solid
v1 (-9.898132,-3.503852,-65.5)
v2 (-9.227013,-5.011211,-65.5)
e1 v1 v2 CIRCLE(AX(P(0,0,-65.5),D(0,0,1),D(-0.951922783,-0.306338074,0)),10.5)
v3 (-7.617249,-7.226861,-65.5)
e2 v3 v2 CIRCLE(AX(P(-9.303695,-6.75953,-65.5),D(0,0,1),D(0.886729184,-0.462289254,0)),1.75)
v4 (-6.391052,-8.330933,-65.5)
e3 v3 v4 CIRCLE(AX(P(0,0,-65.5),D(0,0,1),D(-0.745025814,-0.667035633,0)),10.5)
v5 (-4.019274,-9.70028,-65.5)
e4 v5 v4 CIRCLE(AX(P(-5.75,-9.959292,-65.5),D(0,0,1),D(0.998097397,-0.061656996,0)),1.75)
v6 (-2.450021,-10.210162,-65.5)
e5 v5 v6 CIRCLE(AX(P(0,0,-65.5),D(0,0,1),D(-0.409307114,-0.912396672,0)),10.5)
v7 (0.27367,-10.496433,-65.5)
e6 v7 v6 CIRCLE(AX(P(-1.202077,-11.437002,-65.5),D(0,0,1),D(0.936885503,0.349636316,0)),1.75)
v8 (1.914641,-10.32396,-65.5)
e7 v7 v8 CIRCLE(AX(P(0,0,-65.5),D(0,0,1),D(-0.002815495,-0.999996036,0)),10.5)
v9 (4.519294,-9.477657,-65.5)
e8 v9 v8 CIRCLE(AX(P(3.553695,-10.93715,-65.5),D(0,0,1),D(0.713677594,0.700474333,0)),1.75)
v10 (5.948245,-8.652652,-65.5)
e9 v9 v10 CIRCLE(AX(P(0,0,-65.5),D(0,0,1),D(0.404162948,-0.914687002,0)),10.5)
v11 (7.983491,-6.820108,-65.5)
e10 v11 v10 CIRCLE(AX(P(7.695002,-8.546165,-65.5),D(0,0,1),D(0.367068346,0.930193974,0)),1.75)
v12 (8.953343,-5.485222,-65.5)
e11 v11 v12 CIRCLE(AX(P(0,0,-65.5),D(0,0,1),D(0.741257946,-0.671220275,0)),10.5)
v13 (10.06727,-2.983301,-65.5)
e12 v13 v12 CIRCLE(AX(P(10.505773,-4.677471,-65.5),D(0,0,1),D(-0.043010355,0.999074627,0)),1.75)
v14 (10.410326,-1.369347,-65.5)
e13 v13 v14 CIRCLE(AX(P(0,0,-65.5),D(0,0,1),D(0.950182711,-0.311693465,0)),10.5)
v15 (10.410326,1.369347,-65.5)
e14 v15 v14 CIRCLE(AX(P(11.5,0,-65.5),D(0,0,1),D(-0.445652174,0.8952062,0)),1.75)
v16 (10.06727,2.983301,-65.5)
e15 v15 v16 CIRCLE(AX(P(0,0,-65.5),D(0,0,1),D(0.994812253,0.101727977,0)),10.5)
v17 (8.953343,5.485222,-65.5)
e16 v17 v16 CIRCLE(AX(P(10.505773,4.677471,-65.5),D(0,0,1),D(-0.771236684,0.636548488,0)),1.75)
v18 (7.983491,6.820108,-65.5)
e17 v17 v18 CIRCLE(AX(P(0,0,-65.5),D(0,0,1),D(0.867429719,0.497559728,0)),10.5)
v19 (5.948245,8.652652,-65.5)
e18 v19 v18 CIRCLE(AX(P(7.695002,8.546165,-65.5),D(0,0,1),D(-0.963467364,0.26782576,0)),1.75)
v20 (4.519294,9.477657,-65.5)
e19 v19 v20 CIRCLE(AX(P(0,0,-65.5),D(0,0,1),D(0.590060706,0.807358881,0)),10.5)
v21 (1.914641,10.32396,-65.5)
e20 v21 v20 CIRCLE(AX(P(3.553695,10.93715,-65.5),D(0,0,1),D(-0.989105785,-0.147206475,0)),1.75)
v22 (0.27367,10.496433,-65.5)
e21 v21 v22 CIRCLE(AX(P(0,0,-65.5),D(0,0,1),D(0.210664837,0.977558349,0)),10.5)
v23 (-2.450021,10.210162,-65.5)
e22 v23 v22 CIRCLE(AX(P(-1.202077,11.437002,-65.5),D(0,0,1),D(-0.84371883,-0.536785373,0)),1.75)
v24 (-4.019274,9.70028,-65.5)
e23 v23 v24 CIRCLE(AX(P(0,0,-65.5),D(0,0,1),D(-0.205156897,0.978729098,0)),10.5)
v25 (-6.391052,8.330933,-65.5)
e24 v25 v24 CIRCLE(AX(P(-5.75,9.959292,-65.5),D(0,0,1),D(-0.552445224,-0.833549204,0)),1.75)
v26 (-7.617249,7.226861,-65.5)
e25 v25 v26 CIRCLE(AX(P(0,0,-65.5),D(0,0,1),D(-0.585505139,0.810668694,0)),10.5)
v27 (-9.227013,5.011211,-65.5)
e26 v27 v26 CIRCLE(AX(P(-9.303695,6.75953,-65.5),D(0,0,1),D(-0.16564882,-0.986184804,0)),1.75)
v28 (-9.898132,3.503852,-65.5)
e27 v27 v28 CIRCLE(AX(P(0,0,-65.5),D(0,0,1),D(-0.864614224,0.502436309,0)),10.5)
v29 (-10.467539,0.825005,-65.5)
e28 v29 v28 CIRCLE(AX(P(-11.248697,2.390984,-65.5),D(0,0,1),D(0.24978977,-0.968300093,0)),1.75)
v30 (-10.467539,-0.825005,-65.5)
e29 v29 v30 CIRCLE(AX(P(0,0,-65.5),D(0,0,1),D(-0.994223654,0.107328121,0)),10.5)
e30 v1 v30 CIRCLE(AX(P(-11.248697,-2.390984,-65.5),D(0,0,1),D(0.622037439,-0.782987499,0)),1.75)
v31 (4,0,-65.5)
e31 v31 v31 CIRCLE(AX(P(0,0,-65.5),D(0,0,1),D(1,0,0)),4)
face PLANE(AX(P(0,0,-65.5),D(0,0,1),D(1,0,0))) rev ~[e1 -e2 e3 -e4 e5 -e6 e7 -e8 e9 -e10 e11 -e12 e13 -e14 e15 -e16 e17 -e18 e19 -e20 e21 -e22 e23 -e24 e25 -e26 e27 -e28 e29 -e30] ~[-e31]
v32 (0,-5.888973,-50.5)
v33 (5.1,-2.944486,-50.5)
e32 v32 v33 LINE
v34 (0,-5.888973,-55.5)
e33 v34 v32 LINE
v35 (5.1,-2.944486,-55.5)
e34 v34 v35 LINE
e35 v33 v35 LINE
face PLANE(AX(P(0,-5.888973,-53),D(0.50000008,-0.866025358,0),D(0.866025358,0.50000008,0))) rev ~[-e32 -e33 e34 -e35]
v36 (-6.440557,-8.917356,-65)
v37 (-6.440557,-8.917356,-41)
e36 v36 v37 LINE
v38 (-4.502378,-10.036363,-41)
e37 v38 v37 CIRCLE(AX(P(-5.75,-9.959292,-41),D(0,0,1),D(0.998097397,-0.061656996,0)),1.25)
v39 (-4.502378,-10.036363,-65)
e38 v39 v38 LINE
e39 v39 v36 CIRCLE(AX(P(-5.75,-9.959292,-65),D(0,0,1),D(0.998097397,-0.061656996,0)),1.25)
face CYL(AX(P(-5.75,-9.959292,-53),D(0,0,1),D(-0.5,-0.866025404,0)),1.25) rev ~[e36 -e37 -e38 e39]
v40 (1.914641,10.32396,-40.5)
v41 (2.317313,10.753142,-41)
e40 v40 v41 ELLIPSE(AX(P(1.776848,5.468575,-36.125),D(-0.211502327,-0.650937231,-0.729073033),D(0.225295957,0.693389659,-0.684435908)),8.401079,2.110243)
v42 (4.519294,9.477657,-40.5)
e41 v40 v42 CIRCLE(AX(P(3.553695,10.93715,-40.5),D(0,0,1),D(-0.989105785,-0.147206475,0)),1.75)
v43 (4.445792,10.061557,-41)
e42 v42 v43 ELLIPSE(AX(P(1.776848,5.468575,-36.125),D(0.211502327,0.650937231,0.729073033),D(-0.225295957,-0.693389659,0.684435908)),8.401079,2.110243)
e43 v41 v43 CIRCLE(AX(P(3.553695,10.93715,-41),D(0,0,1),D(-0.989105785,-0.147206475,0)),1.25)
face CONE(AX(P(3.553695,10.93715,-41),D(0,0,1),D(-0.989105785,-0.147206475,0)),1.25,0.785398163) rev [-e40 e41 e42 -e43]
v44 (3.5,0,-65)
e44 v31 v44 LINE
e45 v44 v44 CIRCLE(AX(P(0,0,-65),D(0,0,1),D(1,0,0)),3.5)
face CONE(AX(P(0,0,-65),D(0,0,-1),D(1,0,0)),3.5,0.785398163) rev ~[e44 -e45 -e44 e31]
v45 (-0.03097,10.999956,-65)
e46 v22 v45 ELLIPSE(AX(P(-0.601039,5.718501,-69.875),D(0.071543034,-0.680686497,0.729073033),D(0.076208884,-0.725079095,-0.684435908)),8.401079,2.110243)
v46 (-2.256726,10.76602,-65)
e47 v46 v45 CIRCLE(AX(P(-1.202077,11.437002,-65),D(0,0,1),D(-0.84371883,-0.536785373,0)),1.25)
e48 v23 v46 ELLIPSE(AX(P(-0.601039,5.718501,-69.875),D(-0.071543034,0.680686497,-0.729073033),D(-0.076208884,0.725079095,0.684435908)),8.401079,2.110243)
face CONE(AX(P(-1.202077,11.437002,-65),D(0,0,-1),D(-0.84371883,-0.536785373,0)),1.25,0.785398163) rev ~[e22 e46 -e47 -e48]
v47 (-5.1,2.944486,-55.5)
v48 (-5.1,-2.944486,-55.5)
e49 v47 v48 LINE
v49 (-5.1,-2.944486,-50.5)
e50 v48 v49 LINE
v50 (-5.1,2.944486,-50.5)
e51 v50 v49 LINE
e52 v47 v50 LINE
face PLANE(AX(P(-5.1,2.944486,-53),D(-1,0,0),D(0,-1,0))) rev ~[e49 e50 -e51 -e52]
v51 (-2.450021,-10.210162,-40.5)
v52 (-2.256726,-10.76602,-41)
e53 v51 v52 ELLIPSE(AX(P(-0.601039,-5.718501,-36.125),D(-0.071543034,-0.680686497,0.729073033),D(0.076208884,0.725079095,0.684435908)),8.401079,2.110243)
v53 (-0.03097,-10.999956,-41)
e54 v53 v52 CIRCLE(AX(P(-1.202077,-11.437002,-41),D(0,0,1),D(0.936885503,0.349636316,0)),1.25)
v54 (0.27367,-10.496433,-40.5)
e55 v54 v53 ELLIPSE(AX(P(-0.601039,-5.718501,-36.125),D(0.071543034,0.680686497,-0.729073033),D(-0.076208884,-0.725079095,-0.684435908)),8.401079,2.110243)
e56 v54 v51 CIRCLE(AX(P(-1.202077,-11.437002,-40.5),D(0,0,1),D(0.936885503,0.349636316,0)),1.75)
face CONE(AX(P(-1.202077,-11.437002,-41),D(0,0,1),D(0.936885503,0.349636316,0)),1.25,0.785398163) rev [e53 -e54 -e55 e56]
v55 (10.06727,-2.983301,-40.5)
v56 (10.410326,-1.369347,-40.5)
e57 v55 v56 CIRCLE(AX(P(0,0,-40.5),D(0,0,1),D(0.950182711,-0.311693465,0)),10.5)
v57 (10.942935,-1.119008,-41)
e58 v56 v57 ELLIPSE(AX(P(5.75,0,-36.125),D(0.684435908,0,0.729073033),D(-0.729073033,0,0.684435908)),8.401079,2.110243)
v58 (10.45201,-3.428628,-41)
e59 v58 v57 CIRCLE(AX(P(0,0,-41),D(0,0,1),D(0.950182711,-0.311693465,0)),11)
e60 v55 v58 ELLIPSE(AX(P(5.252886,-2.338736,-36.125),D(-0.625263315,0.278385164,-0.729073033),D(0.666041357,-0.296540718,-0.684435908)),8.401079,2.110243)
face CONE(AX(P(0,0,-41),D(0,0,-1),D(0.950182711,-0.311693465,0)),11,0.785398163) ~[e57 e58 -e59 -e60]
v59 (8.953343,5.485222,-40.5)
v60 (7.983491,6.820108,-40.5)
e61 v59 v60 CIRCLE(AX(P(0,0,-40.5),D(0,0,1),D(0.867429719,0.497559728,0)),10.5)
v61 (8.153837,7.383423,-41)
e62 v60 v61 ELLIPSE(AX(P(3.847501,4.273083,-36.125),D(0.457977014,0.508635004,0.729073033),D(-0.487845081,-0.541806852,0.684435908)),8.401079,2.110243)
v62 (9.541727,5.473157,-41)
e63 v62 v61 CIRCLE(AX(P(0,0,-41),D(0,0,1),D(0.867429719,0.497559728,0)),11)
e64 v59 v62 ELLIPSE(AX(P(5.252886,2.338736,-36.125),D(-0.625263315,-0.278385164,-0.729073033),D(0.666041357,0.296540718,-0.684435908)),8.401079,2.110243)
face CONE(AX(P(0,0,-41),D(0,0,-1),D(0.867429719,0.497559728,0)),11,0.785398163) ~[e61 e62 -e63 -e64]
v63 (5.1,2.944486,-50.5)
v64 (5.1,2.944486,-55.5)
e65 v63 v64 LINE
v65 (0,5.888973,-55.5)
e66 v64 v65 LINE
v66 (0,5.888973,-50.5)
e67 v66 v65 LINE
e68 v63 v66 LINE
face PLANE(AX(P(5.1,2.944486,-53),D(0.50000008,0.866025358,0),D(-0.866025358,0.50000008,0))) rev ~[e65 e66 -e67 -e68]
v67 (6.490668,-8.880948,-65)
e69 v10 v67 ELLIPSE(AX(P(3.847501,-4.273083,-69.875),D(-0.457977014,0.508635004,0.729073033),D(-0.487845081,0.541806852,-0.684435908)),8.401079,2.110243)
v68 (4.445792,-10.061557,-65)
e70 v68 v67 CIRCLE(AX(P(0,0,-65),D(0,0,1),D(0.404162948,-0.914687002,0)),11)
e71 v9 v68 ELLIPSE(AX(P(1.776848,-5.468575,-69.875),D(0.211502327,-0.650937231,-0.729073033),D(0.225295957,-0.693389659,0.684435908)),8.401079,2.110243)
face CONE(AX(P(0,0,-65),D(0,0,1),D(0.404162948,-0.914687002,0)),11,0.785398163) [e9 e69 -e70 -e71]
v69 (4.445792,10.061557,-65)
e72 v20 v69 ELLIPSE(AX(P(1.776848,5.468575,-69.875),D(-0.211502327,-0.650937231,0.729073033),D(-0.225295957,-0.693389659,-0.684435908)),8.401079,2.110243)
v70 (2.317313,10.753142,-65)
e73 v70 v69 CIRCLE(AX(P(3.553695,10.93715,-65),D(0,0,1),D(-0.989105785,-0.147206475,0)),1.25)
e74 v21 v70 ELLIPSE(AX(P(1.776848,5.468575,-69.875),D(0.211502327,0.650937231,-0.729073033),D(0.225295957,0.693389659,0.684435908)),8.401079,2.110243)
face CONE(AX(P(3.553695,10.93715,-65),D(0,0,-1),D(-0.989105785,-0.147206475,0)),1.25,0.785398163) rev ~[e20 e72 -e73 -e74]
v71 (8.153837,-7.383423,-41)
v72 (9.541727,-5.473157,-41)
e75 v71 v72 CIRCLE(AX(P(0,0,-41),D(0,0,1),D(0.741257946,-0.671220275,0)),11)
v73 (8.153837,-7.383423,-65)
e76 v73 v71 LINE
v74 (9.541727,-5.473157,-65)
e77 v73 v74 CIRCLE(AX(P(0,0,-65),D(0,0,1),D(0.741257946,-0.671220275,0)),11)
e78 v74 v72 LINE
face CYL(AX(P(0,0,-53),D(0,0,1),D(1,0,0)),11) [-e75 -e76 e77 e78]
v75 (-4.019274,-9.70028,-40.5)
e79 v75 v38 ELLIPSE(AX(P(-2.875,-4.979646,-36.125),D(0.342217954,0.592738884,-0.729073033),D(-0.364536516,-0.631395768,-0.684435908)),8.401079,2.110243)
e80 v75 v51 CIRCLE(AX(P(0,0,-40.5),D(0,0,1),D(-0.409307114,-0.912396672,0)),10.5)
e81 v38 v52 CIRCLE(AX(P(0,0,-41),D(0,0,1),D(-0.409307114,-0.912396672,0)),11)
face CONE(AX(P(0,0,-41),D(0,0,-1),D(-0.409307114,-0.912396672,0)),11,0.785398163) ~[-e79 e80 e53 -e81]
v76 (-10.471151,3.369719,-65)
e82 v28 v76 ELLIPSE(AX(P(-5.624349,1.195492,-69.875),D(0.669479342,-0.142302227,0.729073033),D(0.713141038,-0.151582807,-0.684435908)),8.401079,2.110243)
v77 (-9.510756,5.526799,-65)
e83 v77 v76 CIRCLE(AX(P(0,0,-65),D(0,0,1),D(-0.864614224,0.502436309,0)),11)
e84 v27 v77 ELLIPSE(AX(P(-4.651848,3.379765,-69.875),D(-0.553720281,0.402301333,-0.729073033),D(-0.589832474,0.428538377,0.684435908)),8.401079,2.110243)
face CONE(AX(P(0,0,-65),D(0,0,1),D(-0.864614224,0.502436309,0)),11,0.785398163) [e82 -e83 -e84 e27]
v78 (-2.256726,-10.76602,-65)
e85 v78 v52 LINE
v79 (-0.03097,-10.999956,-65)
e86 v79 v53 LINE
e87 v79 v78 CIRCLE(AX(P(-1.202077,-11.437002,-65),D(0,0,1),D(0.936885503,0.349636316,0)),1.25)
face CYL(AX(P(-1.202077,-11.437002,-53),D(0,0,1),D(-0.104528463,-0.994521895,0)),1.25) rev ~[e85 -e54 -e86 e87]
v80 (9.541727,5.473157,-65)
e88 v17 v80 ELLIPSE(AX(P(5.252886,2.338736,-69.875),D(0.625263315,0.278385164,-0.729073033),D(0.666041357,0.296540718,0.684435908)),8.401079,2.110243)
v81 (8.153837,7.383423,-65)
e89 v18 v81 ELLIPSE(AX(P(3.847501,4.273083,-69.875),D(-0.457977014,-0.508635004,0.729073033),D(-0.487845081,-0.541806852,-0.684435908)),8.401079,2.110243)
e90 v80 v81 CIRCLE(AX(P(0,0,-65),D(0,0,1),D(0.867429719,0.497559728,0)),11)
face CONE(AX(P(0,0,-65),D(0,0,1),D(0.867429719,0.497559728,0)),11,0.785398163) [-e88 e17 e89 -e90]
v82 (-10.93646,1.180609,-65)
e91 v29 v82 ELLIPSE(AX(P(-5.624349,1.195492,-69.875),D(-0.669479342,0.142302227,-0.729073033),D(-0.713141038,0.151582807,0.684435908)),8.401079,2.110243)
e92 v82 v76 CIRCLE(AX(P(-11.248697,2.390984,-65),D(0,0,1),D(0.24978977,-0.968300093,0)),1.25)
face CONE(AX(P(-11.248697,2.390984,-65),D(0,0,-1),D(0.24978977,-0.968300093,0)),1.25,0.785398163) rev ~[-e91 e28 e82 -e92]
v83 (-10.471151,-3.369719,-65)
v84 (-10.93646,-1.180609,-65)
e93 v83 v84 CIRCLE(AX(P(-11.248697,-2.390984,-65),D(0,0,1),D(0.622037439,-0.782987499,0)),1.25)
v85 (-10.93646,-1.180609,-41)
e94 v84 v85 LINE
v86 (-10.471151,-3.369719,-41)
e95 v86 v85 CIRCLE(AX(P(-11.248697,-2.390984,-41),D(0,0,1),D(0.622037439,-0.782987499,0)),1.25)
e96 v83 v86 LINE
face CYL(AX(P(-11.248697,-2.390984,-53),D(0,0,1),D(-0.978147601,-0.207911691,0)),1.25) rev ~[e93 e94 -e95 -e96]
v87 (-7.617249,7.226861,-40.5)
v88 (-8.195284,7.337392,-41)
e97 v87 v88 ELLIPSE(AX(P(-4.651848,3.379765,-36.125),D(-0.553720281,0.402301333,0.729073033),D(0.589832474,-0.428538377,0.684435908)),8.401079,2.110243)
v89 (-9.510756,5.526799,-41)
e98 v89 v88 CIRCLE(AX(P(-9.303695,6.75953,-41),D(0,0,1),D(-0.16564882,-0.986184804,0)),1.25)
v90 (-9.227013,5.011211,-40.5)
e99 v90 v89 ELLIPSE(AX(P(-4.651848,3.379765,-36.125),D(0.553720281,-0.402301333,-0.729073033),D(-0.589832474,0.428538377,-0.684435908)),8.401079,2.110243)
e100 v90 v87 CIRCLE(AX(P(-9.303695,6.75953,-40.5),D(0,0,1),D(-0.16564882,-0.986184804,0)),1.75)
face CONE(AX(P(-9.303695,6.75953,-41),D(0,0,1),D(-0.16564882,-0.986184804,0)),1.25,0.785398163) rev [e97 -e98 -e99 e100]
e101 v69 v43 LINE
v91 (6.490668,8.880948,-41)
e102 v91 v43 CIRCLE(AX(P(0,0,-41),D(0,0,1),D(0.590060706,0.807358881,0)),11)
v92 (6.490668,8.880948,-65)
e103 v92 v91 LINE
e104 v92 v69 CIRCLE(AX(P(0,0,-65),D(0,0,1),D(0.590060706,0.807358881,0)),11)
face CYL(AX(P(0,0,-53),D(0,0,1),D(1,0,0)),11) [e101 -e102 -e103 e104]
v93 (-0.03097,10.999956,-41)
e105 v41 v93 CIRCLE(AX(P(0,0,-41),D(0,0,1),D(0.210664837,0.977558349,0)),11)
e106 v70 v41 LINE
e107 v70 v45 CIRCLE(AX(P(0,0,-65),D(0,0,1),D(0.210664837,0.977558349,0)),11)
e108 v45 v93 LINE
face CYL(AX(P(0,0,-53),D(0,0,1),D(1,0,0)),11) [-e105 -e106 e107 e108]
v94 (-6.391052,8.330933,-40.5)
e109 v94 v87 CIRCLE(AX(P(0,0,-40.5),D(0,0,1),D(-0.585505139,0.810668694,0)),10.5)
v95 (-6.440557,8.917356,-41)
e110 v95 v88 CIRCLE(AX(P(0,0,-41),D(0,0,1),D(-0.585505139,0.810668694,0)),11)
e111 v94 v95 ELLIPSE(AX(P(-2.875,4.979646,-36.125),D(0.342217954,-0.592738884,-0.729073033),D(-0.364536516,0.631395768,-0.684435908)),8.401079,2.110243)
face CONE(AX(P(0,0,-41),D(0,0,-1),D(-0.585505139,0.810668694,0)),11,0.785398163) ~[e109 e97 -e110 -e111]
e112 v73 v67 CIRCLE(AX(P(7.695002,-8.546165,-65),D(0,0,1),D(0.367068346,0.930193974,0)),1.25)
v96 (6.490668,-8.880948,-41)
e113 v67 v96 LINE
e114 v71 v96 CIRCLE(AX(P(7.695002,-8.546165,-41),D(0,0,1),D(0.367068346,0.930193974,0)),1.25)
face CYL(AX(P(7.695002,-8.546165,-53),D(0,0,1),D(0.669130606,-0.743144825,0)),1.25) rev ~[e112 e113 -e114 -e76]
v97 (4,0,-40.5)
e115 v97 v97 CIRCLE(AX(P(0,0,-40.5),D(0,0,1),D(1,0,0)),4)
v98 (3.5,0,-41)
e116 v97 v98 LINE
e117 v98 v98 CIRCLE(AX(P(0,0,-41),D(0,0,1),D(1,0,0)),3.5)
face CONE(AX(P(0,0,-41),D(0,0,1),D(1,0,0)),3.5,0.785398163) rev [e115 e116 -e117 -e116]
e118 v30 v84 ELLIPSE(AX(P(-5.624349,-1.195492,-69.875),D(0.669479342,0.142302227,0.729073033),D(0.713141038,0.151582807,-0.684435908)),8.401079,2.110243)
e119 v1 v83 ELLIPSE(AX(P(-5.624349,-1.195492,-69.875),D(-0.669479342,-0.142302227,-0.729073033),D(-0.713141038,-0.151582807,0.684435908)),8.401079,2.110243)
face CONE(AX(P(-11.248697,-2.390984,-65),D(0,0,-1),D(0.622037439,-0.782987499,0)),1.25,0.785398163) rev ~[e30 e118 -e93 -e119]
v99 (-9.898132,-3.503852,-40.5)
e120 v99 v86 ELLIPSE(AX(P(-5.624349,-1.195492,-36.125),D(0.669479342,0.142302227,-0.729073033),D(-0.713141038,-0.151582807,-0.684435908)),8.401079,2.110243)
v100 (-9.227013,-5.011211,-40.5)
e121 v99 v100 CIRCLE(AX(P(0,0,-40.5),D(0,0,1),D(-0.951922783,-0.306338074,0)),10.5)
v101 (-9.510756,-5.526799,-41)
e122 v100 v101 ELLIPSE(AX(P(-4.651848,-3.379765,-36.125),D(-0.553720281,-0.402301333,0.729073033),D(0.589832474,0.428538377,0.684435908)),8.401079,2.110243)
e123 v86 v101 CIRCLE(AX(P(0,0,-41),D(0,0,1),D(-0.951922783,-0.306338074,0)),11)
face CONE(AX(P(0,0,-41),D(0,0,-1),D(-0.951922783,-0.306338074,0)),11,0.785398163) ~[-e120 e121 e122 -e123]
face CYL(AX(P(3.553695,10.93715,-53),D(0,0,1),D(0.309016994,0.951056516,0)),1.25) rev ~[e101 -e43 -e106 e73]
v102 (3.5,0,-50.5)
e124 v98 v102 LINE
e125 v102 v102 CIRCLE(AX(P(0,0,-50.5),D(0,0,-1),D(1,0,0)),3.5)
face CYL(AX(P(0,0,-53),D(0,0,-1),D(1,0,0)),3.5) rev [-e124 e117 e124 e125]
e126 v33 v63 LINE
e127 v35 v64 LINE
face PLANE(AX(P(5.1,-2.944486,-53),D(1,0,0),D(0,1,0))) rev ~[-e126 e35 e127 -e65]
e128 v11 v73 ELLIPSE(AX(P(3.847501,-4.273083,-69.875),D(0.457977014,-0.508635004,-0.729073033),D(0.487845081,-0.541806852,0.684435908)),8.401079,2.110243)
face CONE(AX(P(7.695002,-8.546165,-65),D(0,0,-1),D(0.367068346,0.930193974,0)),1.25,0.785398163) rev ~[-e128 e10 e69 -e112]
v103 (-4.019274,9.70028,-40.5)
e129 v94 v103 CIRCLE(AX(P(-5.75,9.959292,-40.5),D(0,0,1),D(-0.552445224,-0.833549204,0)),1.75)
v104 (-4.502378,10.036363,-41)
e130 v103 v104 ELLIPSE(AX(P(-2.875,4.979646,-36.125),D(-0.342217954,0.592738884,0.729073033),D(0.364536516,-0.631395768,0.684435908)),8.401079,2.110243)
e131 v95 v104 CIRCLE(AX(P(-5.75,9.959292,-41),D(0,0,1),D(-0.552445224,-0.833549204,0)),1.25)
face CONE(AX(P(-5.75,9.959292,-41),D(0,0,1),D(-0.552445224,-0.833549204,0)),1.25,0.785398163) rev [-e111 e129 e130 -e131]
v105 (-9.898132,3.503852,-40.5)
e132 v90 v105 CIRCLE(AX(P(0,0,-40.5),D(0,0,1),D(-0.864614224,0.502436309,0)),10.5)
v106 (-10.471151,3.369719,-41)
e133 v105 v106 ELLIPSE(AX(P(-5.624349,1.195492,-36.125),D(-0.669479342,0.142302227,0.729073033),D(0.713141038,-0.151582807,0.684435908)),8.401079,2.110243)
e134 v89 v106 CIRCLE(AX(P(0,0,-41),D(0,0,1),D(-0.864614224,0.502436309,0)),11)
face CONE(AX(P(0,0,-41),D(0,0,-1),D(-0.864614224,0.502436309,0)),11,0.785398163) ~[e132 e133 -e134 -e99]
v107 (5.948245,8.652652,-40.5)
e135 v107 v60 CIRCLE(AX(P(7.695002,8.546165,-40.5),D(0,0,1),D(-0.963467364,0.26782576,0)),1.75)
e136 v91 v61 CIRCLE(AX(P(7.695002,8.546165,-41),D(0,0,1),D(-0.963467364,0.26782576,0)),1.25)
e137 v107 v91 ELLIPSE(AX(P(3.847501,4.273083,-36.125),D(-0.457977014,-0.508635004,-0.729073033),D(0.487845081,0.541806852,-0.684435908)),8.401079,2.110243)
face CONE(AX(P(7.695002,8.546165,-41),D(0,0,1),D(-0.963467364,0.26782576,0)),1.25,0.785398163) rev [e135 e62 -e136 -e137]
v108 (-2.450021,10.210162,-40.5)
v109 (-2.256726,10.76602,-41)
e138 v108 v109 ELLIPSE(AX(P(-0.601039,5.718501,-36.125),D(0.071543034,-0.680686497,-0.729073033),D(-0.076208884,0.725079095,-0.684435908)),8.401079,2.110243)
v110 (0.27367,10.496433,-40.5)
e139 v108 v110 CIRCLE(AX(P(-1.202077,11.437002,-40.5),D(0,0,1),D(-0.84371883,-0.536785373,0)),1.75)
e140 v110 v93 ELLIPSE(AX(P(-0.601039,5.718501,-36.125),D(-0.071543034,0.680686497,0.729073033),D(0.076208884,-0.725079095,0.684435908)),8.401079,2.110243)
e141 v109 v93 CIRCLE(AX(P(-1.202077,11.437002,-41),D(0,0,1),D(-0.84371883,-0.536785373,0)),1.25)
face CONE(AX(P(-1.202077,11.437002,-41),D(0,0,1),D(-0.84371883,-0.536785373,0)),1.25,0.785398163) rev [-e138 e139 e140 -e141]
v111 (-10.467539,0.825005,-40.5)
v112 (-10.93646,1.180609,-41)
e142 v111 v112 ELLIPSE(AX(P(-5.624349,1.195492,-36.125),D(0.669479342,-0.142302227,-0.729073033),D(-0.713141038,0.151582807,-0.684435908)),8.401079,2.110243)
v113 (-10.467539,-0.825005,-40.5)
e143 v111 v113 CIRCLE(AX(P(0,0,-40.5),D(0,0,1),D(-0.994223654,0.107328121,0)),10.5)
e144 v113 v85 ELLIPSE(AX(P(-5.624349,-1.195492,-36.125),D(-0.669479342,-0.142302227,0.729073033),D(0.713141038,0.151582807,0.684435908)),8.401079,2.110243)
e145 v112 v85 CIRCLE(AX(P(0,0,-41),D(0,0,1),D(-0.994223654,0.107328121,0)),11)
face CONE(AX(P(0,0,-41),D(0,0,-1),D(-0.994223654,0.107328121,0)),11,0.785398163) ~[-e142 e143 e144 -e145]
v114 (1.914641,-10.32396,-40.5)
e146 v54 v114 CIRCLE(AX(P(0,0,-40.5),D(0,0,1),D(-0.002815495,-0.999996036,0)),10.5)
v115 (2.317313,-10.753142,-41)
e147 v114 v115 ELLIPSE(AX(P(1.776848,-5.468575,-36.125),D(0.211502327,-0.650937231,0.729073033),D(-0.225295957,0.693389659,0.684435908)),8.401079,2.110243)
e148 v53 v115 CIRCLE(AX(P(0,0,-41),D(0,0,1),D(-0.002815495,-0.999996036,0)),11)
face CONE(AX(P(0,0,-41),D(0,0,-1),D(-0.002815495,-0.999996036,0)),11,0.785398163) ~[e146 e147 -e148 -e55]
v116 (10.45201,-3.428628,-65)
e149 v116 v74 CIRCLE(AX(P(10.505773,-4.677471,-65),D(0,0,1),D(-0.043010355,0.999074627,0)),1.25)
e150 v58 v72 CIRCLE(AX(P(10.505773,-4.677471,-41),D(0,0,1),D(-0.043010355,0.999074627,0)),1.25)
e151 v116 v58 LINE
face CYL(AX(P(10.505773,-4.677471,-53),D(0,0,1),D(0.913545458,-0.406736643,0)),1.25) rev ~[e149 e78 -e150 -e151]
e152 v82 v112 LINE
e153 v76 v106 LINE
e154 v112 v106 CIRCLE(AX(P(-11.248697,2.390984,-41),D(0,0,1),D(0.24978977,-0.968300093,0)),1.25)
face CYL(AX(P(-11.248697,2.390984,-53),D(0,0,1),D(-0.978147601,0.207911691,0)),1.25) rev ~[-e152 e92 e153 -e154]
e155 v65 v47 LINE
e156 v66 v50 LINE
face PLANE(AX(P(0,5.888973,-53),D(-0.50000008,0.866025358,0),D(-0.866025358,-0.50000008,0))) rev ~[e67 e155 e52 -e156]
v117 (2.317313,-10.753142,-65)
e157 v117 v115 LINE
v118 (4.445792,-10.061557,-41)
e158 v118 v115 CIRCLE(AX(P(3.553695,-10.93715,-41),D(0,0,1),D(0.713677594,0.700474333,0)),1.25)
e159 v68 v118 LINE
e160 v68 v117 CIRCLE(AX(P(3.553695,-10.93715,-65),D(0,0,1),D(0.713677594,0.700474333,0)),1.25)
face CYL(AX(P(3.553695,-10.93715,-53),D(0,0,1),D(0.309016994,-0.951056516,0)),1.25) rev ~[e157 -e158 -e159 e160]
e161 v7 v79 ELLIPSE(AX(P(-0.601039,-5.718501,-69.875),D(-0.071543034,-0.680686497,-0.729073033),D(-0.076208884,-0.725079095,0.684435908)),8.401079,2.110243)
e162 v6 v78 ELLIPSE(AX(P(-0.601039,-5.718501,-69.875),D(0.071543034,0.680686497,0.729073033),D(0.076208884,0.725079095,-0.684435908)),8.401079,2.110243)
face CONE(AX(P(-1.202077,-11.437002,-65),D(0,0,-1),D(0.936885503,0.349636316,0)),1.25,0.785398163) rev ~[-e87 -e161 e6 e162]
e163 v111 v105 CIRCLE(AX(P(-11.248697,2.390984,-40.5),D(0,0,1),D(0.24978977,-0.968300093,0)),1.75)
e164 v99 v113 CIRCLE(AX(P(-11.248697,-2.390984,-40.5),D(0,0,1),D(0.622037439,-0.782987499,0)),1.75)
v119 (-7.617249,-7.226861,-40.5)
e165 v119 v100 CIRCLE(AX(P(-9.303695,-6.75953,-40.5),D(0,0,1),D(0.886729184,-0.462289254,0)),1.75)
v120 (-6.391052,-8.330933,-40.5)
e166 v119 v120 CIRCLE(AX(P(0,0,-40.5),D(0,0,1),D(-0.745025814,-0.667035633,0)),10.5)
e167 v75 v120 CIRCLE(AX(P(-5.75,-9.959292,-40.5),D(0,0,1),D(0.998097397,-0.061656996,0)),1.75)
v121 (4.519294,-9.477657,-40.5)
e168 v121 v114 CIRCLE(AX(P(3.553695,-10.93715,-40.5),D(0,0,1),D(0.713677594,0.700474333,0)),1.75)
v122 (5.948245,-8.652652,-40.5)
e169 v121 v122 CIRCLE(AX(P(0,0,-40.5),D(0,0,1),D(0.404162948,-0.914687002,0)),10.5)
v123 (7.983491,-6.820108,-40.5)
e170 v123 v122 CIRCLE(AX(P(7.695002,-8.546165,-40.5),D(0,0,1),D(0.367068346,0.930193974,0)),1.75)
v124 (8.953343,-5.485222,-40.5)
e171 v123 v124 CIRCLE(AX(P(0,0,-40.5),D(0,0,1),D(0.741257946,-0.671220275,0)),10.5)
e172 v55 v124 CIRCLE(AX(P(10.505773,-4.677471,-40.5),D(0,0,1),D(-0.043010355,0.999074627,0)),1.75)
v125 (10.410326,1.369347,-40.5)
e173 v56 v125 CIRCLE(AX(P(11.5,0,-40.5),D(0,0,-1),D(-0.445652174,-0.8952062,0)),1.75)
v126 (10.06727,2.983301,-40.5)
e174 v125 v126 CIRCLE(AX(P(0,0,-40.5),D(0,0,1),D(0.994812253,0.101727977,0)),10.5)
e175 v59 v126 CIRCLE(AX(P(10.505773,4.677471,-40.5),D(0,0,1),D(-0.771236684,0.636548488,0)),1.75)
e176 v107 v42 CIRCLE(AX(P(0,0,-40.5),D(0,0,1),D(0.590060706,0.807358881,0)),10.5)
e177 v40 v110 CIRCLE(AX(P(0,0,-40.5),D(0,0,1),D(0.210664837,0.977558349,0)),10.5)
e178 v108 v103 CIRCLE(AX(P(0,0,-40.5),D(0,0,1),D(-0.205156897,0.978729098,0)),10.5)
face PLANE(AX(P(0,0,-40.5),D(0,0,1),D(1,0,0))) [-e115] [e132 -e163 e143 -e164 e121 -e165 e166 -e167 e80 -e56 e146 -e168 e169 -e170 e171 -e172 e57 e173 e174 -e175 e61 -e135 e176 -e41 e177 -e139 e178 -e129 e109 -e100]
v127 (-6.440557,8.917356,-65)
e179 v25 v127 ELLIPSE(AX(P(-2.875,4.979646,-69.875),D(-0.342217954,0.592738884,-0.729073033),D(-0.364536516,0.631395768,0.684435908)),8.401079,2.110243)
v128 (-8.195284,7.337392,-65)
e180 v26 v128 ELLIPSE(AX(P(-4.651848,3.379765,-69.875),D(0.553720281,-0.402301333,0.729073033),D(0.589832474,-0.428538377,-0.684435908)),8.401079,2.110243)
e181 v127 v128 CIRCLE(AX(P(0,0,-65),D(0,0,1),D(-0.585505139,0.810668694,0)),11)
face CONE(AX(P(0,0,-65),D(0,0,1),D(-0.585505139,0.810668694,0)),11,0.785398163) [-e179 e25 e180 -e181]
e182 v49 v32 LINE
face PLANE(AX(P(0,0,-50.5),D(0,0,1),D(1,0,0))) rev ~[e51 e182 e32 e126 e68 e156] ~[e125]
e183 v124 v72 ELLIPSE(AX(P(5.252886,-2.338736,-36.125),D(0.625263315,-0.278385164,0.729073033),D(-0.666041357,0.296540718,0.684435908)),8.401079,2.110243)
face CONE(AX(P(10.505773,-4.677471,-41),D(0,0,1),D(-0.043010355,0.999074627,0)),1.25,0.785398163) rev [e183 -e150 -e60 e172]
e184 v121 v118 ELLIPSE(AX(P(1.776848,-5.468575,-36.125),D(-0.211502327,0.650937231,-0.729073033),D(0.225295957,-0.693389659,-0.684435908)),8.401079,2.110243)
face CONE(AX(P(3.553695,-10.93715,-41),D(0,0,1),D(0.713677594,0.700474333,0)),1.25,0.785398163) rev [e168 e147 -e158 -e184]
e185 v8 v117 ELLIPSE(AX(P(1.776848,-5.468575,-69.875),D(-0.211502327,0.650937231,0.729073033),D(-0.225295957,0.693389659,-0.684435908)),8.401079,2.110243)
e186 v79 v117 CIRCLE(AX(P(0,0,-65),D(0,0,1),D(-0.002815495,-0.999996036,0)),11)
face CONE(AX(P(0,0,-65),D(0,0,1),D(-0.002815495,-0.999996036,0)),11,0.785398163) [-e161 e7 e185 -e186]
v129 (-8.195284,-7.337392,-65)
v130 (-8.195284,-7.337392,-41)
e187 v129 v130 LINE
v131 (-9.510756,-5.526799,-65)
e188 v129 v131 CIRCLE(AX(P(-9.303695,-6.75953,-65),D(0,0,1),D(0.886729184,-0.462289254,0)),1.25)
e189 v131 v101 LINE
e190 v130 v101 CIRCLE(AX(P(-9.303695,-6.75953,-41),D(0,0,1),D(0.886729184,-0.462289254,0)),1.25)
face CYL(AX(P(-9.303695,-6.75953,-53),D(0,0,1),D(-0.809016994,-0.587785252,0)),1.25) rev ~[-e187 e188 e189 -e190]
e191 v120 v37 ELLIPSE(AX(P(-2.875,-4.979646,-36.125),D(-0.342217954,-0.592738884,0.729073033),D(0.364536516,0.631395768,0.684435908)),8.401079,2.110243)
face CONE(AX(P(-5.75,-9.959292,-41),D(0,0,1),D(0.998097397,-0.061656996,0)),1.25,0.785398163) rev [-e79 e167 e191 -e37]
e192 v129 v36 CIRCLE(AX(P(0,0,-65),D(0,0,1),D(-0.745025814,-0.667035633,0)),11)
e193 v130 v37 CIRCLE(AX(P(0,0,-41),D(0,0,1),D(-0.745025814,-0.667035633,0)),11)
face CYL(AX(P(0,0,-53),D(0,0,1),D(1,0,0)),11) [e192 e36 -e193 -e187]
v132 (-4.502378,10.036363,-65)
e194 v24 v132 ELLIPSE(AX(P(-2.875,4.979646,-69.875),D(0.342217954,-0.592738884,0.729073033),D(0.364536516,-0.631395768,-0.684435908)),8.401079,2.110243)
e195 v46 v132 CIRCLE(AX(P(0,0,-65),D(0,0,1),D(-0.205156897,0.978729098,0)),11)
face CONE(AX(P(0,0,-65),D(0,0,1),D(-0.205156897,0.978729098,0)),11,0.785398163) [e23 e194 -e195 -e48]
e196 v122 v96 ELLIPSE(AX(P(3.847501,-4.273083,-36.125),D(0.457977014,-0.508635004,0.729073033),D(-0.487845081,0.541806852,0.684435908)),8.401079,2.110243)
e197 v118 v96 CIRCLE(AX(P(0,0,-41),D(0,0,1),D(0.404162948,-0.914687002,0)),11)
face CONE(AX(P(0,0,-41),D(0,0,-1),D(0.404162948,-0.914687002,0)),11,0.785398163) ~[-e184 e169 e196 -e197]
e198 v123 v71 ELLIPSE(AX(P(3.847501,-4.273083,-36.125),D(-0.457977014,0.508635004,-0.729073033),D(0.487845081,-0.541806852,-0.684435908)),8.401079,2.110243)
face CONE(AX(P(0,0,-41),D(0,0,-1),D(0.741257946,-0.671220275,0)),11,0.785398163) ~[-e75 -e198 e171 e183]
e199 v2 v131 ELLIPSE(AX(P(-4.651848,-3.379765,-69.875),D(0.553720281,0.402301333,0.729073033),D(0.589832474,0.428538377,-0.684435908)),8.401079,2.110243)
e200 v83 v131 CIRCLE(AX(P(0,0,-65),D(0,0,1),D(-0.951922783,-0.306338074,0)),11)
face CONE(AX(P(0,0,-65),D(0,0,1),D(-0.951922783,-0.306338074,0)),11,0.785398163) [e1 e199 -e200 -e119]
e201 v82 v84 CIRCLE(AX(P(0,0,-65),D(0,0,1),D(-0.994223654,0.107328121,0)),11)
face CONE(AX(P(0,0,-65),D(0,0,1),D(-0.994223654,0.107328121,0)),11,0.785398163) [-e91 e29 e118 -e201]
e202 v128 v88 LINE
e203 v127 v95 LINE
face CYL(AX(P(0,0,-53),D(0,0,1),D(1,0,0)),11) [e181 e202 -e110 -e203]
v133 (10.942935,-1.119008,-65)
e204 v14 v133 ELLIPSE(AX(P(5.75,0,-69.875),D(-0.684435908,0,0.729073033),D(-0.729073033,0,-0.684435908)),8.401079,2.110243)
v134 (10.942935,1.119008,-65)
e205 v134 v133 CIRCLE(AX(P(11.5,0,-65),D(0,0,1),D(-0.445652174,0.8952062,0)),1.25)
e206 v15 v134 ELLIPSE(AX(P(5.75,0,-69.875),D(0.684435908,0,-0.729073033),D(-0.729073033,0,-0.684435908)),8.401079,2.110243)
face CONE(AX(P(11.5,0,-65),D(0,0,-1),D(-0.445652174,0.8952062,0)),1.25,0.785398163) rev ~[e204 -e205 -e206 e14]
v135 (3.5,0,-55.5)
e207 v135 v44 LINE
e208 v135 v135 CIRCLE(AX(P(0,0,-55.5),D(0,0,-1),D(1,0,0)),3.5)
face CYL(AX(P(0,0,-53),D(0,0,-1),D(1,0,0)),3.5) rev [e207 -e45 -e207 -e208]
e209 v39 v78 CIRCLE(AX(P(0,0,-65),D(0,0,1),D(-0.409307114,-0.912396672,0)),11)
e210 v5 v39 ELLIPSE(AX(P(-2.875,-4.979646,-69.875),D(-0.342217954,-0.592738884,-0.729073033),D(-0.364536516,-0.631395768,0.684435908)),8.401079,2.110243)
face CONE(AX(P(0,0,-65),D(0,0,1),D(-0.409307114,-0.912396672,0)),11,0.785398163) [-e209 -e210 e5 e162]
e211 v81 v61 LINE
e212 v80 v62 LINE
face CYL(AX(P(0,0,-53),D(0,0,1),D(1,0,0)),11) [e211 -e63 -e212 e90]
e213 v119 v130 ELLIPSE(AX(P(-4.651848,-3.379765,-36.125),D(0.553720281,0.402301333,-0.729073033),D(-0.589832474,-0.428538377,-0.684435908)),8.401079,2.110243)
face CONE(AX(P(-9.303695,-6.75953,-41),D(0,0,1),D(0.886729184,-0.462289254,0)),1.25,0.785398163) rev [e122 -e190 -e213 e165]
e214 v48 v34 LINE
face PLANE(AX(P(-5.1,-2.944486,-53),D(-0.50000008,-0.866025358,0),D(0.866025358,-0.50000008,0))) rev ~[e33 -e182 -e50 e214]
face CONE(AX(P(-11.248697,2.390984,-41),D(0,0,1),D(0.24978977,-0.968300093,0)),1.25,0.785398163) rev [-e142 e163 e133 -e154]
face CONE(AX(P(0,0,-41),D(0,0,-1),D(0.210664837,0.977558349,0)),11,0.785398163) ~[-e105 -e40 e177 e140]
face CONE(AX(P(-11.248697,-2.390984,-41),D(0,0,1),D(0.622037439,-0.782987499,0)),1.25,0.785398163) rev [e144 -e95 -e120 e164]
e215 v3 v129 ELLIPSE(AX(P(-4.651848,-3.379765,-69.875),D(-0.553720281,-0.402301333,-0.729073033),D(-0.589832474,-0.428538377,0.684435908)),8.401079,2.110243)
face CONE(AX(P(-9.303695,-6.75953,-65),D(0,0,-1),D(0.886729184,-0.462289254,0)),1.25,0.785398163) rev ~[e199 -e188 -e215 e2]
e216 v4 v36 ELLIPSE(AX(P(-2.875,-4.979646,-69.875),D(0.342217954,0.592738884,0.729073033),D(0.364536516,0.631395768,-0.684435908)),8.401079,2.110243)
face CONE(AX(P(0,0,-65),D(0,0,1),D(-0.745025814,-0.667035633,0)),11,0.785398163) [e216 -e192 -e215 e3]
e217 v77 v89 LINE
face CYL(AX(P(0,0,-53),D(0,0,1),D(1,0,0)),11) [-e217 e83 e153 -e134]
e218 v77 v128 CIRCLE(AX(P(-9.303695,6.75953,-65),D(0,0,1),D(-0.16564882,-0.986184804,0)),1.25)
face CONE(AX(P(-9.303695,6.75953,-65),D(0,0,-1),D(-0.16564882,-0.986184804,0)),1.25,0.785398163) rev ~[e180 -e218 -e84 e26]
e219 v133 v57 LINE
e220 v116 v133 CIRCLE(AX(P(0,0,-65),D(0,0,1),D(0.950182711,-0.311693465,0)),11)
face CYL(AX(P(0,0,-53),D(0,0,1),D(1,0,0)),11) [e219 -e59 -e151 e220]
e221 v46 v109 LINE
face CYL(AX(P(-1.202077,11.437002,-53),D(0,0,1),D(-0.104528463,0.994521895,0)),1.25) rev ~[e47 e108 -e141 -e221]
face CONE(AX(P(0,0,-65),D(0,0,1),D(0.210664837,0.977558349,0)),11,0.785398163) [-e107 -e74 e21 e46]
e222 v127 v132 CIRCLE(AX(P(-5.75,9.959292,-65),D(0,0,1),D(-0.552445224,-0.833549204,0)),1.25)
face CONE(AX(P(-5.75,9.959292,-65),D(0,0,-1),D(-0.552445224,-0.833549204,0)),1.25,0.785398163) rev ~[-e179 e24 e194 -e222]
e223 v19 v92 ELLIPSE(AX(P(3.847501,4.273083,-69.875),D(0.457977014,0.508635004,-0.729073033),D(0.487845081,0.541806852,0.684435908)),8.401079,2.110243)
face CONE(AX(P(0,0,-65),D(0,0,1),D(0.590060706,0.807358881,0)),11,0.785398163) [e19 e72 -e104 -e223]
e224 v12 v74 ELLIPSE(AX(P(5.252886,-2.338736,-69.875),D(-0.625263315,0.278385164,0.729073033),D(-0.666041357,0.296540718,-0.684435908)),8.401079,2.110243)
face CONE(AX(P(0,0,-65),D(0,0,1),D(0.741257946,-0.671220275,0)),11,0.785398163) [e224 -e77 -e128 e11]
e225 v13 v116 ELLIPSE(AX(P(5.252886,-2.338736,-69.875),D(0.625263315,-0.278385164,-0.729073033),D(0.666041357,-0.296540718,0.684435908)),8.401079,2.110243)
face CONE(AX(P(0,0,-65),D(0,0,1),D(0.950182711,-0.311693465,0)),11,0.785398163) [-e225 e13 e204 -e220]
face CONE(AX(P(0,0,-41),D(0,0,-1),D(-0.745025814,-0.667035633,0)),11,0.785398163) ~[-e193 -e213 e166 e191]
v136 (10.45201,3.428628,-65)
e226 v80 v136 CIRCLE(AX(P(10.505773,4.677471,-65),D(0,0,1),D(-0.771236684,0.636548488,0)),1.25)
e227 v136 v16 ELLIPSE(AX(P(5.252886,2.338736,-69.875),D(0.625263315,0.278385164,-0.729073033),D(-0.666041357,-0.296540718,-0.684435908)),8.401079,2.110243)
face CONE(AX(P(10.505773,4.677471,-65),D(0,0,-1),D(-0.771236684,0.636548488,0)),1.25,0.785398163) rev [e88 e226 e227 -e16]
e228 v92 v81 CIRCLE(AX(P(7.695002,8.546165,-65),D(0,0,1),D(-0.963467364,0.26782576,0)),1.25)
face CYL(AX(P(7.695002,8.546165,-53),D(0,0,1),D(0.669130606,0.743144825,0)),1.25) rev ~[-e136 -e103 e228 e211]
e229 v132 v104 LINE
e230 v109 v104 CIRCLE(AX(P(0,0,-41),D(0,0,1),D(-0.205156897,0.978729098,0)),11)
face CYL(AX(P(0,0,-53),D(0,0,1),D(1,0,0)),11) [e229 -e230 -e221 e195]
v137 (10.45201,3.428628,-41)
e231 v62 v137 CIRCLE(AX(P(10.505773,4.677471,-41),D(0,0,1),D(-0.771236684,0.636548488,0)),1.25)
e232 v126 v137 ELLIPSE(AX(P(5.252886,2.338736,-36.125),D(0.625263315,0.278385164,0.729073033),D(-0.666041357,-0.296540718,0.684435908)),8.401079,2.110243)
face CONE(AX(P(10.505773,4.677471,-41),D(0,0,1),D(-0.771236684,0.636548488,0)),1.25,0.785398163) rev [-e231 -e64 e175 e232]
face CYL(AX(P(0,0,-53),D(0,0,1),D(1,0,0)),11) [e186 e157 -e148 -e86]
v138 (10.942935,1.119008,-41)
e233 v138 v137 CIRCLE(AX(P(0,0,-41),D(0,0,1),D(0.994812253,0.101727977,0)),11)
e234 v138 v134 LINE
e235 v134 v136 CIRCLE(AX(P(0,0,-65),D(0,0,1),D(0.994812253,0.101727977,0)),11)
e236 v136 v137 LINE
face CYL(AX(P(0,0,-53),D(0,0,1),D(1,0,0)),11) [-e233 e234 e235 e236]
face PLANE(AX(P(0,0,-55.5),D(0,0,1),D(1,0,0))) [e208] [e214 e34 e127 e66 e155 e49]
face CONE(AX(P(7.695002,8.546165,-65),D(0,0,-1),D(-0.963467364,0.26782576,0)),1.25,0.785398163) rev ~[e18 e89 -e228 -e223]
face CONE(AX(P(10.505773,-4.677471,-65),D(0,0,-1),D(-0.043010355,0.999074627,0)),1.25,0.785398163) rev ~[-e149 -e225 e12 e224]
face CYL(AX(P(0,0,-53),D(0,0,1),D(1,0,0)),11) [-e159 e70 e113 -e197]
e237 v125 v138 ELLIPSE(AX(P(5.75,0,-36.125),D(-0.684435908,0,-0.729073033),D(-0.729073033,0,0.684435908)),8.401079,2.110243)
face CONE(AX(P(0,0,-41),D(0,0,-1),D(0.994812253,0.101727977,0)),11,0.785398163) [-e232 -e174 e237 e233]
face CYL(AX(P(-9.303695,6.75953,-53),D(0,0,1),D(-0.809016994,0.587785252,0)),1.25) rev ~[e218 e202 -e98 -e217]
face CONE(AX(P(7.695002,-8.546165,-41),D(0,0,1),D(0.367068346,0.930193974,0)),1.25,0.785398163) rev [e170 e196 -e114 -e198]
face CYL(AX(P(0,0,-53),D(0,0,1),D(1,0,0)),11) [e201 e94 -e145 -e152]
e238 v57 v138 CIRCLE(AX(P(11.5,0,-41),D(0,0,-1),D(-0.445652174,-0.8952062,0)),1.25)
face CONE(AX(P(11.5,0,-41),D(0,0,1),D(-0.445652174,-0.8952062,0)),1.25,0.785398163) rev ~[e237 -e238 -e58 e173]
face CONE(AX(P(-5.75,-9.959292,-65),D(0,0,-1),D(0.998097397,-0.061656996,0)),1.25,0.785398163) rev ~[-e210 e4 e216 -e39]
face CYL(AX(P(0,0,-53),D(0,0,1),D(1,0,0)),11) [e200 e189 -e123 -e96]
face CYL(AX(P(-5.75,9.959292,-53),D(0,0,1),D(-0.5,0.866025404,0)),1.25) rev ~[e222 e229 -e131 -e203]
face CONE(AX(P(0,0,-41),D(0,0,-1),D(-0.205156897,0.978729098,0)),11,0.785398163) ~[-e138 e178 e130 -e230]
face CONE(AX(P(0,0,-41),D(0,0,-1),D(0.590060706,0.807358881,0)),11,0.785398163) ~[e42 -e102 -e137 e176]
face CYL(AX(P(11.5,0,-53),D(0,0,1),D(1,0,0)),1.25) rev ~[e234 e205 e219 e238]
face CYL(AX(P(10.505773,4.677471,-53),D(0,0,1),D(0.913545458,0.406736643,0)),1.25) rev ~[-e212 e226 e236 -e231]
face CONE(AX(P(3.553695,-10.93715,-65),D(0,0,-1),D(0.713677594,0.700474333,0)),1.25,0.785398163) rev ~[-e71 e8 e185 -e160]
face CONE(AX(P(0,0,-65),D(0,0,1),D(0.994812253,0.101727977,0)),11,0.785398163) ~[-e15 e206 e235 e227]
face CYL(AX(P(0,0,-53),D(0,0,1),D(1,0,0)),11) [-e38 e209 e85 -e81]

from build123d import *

# Parameters (mm, degrees)
SKETCH011_R          = 11
SKETCH011_R_2        = 3.5
PAD006_DEPTH         = 12.5
POCKET003_DEPTH      = 2.5
SKETCH013_R          = 1.25
POCKET004_DEPTH      = 92.325808
POCKET004_DEPTH_BACK = 92.325808
POLARPATTERN_COUNT   = 15
CHAMFER_SIZE         = 0.5


with BuildPart() as part:
    # Sketch011 → Pad006 (new body, symmetric)
    with BuildSketch(Plane.XY):
        Circle(SKETCH011_R)
        Circle(SKETCH011_R_2, mode=Mode.SUBTRACT)
    extrude(amount=PAD006_DEPTH, both=True)

    # Sketch012 → Pocket003 (cut, symmetric)
    with BuildSketch(Plane.XY):
        Polygon((0, 5.888973), (-5.1, 2.944486), (-5.1, -2.944486), (0, -5.888973), (5.1, -2.944486), (5.1, 2.944486), align=None)
    extrude(amount=POCKET003_DEPTH, both=True, mode=Mode.SUBTRACT)

    # Sketch013 → Pocket004 (cut, two sides)
    with BuildSketch(Plane.XY) as pocket004_sk:
        with Locations((11.5, 0)):
            Circle(SKETCH013_R)
    pocket004 = extrude(amount=-POCKET004_DEPTH, mode=Mode.SUBTRACT) + extrude(pocket004_sk.sketch, amount=POCKET004_DEPTH_BACK, mode=Mode.SUBTRACT)

    # PolarPattern: Pocket004 ×15 about axis
    polarpattern_axis = Axis((0, 0, 0), (0, 0, 1))
    for i in range(1, POLARPATTERN_COUNT):
        add(pocket004.rotate(polarpattern_axis, i * 360 / POLARPATTERN_COUNT), mode=Mode.SUBTRACT)

    # Chamfer
    chamfer_edges = [part.edges().sort_by_distance(p)[0] for p in [
        (10.25, 0, 12.5),
        (10.759624, -2.287029, 12.5),
        (9.363841, -4.169051, 12.5),
        (8.899187, -6.465638, 12.5),
        (6.858589, -7.617234, 12.5),
        (5.5, -9.526279, 12.5),
        (3.167424, -9.748329, 12.5),
        (1.149813, -10.939741, 12.5),
        (-1.071417, -10.193849, 12.5),
        (-3.399187, -10.461622, 12.5),
        (-5.125, -8.87676, 12.5),
        (-7.360437, -8.174593, 12.5),
        (-8.292424, -6.024799, 12.5),
        (-10.049, -4.474103, 12.5),
        (-10.026013, -2.131095, 12.5),
        (-11, 0, 12.5),
        (-10.026013, 2.131095, 12.5),
        (-10.049, 4.474103, 12.5),
        (-8.292424, 6.024799, 12.5),
        (-7.360437, 8.174593, 12.5),
        (-5.125, 8.87676, 12.5),
        (-3.399187, 10.461622, 12.5),
        (-1.071417, 10.193849, 12.5),
        (1.149813, 10.939741, 12.5),
        (3.167424, 9.748329, 12.5),
        (5.5, 9.526279, 12.5),
        (6.858589, 7.617234, 12.5),
        (8.899187, 6.465638, 12.5),
        (9.363841, 4.169051, 12.5),
        (10.759624, 2.287029, 12.5),
        (-3.5, 0, 12.5),
        (10.25, 0, -12.5),
        (10.759624, -2.287029, -12.5),
        (9.363841, -4.169051, -12.5),
        (8.899187, -6.465638, -12.5),
        (6.858589, -7.617234, -12.5),
        (5.5, -9.526279, -12.5),
        (3.167424, -9.748329, -12.5),
        (1.149813, -10.939741, -12.5),
        (-1.071417, -10.193849, -12.5),
        (-3.399187, -10.461622, -12.5),
        (-5.125, -8.87676, -12.5),
        (-7.360437, -8.174593, -12.5),
        (-8.292424, -6.024799, -12.5),
        (-10.049, -4.474103, -12.5),
        (-10.026013, -2.131095, -12.5),
        (-11, 0, -12.5),
        (-10.026013, 2.131095, -12.5),
        (-10.049, 4.474103, -12.5),
        (-8.292424, 6.024799, -12.5),
        (-7.360437, 8.174593, -12.5),
        (-5.125, 8.87676, -12.5),
        (-3.399187, 10.461622, -12.5),
        (-1.071417, 10.193849, -12.5),
        (1.149813, 10.939741, -12.5),
        (3.167424, 9.748329, -12.5),
        (5.5, 9.526279, -12.5),
        (6.858589, 7.617234, -12.5),
        (8.899187, 6.465638, -12.5),
        (9.363841, 4.169051, -12.5),
        (10.759624, 2.287029, -12.5),
        (-3.5, 0, -12.5),
    ]]
    chamfer(chamfer_edges, length=CHAMFER_SIZE)


with BuildPart() as part_1:
    # Body002 placement: moved
    add(part.part.moved(Location((0, 0, -53))))


solid = part_1.part
